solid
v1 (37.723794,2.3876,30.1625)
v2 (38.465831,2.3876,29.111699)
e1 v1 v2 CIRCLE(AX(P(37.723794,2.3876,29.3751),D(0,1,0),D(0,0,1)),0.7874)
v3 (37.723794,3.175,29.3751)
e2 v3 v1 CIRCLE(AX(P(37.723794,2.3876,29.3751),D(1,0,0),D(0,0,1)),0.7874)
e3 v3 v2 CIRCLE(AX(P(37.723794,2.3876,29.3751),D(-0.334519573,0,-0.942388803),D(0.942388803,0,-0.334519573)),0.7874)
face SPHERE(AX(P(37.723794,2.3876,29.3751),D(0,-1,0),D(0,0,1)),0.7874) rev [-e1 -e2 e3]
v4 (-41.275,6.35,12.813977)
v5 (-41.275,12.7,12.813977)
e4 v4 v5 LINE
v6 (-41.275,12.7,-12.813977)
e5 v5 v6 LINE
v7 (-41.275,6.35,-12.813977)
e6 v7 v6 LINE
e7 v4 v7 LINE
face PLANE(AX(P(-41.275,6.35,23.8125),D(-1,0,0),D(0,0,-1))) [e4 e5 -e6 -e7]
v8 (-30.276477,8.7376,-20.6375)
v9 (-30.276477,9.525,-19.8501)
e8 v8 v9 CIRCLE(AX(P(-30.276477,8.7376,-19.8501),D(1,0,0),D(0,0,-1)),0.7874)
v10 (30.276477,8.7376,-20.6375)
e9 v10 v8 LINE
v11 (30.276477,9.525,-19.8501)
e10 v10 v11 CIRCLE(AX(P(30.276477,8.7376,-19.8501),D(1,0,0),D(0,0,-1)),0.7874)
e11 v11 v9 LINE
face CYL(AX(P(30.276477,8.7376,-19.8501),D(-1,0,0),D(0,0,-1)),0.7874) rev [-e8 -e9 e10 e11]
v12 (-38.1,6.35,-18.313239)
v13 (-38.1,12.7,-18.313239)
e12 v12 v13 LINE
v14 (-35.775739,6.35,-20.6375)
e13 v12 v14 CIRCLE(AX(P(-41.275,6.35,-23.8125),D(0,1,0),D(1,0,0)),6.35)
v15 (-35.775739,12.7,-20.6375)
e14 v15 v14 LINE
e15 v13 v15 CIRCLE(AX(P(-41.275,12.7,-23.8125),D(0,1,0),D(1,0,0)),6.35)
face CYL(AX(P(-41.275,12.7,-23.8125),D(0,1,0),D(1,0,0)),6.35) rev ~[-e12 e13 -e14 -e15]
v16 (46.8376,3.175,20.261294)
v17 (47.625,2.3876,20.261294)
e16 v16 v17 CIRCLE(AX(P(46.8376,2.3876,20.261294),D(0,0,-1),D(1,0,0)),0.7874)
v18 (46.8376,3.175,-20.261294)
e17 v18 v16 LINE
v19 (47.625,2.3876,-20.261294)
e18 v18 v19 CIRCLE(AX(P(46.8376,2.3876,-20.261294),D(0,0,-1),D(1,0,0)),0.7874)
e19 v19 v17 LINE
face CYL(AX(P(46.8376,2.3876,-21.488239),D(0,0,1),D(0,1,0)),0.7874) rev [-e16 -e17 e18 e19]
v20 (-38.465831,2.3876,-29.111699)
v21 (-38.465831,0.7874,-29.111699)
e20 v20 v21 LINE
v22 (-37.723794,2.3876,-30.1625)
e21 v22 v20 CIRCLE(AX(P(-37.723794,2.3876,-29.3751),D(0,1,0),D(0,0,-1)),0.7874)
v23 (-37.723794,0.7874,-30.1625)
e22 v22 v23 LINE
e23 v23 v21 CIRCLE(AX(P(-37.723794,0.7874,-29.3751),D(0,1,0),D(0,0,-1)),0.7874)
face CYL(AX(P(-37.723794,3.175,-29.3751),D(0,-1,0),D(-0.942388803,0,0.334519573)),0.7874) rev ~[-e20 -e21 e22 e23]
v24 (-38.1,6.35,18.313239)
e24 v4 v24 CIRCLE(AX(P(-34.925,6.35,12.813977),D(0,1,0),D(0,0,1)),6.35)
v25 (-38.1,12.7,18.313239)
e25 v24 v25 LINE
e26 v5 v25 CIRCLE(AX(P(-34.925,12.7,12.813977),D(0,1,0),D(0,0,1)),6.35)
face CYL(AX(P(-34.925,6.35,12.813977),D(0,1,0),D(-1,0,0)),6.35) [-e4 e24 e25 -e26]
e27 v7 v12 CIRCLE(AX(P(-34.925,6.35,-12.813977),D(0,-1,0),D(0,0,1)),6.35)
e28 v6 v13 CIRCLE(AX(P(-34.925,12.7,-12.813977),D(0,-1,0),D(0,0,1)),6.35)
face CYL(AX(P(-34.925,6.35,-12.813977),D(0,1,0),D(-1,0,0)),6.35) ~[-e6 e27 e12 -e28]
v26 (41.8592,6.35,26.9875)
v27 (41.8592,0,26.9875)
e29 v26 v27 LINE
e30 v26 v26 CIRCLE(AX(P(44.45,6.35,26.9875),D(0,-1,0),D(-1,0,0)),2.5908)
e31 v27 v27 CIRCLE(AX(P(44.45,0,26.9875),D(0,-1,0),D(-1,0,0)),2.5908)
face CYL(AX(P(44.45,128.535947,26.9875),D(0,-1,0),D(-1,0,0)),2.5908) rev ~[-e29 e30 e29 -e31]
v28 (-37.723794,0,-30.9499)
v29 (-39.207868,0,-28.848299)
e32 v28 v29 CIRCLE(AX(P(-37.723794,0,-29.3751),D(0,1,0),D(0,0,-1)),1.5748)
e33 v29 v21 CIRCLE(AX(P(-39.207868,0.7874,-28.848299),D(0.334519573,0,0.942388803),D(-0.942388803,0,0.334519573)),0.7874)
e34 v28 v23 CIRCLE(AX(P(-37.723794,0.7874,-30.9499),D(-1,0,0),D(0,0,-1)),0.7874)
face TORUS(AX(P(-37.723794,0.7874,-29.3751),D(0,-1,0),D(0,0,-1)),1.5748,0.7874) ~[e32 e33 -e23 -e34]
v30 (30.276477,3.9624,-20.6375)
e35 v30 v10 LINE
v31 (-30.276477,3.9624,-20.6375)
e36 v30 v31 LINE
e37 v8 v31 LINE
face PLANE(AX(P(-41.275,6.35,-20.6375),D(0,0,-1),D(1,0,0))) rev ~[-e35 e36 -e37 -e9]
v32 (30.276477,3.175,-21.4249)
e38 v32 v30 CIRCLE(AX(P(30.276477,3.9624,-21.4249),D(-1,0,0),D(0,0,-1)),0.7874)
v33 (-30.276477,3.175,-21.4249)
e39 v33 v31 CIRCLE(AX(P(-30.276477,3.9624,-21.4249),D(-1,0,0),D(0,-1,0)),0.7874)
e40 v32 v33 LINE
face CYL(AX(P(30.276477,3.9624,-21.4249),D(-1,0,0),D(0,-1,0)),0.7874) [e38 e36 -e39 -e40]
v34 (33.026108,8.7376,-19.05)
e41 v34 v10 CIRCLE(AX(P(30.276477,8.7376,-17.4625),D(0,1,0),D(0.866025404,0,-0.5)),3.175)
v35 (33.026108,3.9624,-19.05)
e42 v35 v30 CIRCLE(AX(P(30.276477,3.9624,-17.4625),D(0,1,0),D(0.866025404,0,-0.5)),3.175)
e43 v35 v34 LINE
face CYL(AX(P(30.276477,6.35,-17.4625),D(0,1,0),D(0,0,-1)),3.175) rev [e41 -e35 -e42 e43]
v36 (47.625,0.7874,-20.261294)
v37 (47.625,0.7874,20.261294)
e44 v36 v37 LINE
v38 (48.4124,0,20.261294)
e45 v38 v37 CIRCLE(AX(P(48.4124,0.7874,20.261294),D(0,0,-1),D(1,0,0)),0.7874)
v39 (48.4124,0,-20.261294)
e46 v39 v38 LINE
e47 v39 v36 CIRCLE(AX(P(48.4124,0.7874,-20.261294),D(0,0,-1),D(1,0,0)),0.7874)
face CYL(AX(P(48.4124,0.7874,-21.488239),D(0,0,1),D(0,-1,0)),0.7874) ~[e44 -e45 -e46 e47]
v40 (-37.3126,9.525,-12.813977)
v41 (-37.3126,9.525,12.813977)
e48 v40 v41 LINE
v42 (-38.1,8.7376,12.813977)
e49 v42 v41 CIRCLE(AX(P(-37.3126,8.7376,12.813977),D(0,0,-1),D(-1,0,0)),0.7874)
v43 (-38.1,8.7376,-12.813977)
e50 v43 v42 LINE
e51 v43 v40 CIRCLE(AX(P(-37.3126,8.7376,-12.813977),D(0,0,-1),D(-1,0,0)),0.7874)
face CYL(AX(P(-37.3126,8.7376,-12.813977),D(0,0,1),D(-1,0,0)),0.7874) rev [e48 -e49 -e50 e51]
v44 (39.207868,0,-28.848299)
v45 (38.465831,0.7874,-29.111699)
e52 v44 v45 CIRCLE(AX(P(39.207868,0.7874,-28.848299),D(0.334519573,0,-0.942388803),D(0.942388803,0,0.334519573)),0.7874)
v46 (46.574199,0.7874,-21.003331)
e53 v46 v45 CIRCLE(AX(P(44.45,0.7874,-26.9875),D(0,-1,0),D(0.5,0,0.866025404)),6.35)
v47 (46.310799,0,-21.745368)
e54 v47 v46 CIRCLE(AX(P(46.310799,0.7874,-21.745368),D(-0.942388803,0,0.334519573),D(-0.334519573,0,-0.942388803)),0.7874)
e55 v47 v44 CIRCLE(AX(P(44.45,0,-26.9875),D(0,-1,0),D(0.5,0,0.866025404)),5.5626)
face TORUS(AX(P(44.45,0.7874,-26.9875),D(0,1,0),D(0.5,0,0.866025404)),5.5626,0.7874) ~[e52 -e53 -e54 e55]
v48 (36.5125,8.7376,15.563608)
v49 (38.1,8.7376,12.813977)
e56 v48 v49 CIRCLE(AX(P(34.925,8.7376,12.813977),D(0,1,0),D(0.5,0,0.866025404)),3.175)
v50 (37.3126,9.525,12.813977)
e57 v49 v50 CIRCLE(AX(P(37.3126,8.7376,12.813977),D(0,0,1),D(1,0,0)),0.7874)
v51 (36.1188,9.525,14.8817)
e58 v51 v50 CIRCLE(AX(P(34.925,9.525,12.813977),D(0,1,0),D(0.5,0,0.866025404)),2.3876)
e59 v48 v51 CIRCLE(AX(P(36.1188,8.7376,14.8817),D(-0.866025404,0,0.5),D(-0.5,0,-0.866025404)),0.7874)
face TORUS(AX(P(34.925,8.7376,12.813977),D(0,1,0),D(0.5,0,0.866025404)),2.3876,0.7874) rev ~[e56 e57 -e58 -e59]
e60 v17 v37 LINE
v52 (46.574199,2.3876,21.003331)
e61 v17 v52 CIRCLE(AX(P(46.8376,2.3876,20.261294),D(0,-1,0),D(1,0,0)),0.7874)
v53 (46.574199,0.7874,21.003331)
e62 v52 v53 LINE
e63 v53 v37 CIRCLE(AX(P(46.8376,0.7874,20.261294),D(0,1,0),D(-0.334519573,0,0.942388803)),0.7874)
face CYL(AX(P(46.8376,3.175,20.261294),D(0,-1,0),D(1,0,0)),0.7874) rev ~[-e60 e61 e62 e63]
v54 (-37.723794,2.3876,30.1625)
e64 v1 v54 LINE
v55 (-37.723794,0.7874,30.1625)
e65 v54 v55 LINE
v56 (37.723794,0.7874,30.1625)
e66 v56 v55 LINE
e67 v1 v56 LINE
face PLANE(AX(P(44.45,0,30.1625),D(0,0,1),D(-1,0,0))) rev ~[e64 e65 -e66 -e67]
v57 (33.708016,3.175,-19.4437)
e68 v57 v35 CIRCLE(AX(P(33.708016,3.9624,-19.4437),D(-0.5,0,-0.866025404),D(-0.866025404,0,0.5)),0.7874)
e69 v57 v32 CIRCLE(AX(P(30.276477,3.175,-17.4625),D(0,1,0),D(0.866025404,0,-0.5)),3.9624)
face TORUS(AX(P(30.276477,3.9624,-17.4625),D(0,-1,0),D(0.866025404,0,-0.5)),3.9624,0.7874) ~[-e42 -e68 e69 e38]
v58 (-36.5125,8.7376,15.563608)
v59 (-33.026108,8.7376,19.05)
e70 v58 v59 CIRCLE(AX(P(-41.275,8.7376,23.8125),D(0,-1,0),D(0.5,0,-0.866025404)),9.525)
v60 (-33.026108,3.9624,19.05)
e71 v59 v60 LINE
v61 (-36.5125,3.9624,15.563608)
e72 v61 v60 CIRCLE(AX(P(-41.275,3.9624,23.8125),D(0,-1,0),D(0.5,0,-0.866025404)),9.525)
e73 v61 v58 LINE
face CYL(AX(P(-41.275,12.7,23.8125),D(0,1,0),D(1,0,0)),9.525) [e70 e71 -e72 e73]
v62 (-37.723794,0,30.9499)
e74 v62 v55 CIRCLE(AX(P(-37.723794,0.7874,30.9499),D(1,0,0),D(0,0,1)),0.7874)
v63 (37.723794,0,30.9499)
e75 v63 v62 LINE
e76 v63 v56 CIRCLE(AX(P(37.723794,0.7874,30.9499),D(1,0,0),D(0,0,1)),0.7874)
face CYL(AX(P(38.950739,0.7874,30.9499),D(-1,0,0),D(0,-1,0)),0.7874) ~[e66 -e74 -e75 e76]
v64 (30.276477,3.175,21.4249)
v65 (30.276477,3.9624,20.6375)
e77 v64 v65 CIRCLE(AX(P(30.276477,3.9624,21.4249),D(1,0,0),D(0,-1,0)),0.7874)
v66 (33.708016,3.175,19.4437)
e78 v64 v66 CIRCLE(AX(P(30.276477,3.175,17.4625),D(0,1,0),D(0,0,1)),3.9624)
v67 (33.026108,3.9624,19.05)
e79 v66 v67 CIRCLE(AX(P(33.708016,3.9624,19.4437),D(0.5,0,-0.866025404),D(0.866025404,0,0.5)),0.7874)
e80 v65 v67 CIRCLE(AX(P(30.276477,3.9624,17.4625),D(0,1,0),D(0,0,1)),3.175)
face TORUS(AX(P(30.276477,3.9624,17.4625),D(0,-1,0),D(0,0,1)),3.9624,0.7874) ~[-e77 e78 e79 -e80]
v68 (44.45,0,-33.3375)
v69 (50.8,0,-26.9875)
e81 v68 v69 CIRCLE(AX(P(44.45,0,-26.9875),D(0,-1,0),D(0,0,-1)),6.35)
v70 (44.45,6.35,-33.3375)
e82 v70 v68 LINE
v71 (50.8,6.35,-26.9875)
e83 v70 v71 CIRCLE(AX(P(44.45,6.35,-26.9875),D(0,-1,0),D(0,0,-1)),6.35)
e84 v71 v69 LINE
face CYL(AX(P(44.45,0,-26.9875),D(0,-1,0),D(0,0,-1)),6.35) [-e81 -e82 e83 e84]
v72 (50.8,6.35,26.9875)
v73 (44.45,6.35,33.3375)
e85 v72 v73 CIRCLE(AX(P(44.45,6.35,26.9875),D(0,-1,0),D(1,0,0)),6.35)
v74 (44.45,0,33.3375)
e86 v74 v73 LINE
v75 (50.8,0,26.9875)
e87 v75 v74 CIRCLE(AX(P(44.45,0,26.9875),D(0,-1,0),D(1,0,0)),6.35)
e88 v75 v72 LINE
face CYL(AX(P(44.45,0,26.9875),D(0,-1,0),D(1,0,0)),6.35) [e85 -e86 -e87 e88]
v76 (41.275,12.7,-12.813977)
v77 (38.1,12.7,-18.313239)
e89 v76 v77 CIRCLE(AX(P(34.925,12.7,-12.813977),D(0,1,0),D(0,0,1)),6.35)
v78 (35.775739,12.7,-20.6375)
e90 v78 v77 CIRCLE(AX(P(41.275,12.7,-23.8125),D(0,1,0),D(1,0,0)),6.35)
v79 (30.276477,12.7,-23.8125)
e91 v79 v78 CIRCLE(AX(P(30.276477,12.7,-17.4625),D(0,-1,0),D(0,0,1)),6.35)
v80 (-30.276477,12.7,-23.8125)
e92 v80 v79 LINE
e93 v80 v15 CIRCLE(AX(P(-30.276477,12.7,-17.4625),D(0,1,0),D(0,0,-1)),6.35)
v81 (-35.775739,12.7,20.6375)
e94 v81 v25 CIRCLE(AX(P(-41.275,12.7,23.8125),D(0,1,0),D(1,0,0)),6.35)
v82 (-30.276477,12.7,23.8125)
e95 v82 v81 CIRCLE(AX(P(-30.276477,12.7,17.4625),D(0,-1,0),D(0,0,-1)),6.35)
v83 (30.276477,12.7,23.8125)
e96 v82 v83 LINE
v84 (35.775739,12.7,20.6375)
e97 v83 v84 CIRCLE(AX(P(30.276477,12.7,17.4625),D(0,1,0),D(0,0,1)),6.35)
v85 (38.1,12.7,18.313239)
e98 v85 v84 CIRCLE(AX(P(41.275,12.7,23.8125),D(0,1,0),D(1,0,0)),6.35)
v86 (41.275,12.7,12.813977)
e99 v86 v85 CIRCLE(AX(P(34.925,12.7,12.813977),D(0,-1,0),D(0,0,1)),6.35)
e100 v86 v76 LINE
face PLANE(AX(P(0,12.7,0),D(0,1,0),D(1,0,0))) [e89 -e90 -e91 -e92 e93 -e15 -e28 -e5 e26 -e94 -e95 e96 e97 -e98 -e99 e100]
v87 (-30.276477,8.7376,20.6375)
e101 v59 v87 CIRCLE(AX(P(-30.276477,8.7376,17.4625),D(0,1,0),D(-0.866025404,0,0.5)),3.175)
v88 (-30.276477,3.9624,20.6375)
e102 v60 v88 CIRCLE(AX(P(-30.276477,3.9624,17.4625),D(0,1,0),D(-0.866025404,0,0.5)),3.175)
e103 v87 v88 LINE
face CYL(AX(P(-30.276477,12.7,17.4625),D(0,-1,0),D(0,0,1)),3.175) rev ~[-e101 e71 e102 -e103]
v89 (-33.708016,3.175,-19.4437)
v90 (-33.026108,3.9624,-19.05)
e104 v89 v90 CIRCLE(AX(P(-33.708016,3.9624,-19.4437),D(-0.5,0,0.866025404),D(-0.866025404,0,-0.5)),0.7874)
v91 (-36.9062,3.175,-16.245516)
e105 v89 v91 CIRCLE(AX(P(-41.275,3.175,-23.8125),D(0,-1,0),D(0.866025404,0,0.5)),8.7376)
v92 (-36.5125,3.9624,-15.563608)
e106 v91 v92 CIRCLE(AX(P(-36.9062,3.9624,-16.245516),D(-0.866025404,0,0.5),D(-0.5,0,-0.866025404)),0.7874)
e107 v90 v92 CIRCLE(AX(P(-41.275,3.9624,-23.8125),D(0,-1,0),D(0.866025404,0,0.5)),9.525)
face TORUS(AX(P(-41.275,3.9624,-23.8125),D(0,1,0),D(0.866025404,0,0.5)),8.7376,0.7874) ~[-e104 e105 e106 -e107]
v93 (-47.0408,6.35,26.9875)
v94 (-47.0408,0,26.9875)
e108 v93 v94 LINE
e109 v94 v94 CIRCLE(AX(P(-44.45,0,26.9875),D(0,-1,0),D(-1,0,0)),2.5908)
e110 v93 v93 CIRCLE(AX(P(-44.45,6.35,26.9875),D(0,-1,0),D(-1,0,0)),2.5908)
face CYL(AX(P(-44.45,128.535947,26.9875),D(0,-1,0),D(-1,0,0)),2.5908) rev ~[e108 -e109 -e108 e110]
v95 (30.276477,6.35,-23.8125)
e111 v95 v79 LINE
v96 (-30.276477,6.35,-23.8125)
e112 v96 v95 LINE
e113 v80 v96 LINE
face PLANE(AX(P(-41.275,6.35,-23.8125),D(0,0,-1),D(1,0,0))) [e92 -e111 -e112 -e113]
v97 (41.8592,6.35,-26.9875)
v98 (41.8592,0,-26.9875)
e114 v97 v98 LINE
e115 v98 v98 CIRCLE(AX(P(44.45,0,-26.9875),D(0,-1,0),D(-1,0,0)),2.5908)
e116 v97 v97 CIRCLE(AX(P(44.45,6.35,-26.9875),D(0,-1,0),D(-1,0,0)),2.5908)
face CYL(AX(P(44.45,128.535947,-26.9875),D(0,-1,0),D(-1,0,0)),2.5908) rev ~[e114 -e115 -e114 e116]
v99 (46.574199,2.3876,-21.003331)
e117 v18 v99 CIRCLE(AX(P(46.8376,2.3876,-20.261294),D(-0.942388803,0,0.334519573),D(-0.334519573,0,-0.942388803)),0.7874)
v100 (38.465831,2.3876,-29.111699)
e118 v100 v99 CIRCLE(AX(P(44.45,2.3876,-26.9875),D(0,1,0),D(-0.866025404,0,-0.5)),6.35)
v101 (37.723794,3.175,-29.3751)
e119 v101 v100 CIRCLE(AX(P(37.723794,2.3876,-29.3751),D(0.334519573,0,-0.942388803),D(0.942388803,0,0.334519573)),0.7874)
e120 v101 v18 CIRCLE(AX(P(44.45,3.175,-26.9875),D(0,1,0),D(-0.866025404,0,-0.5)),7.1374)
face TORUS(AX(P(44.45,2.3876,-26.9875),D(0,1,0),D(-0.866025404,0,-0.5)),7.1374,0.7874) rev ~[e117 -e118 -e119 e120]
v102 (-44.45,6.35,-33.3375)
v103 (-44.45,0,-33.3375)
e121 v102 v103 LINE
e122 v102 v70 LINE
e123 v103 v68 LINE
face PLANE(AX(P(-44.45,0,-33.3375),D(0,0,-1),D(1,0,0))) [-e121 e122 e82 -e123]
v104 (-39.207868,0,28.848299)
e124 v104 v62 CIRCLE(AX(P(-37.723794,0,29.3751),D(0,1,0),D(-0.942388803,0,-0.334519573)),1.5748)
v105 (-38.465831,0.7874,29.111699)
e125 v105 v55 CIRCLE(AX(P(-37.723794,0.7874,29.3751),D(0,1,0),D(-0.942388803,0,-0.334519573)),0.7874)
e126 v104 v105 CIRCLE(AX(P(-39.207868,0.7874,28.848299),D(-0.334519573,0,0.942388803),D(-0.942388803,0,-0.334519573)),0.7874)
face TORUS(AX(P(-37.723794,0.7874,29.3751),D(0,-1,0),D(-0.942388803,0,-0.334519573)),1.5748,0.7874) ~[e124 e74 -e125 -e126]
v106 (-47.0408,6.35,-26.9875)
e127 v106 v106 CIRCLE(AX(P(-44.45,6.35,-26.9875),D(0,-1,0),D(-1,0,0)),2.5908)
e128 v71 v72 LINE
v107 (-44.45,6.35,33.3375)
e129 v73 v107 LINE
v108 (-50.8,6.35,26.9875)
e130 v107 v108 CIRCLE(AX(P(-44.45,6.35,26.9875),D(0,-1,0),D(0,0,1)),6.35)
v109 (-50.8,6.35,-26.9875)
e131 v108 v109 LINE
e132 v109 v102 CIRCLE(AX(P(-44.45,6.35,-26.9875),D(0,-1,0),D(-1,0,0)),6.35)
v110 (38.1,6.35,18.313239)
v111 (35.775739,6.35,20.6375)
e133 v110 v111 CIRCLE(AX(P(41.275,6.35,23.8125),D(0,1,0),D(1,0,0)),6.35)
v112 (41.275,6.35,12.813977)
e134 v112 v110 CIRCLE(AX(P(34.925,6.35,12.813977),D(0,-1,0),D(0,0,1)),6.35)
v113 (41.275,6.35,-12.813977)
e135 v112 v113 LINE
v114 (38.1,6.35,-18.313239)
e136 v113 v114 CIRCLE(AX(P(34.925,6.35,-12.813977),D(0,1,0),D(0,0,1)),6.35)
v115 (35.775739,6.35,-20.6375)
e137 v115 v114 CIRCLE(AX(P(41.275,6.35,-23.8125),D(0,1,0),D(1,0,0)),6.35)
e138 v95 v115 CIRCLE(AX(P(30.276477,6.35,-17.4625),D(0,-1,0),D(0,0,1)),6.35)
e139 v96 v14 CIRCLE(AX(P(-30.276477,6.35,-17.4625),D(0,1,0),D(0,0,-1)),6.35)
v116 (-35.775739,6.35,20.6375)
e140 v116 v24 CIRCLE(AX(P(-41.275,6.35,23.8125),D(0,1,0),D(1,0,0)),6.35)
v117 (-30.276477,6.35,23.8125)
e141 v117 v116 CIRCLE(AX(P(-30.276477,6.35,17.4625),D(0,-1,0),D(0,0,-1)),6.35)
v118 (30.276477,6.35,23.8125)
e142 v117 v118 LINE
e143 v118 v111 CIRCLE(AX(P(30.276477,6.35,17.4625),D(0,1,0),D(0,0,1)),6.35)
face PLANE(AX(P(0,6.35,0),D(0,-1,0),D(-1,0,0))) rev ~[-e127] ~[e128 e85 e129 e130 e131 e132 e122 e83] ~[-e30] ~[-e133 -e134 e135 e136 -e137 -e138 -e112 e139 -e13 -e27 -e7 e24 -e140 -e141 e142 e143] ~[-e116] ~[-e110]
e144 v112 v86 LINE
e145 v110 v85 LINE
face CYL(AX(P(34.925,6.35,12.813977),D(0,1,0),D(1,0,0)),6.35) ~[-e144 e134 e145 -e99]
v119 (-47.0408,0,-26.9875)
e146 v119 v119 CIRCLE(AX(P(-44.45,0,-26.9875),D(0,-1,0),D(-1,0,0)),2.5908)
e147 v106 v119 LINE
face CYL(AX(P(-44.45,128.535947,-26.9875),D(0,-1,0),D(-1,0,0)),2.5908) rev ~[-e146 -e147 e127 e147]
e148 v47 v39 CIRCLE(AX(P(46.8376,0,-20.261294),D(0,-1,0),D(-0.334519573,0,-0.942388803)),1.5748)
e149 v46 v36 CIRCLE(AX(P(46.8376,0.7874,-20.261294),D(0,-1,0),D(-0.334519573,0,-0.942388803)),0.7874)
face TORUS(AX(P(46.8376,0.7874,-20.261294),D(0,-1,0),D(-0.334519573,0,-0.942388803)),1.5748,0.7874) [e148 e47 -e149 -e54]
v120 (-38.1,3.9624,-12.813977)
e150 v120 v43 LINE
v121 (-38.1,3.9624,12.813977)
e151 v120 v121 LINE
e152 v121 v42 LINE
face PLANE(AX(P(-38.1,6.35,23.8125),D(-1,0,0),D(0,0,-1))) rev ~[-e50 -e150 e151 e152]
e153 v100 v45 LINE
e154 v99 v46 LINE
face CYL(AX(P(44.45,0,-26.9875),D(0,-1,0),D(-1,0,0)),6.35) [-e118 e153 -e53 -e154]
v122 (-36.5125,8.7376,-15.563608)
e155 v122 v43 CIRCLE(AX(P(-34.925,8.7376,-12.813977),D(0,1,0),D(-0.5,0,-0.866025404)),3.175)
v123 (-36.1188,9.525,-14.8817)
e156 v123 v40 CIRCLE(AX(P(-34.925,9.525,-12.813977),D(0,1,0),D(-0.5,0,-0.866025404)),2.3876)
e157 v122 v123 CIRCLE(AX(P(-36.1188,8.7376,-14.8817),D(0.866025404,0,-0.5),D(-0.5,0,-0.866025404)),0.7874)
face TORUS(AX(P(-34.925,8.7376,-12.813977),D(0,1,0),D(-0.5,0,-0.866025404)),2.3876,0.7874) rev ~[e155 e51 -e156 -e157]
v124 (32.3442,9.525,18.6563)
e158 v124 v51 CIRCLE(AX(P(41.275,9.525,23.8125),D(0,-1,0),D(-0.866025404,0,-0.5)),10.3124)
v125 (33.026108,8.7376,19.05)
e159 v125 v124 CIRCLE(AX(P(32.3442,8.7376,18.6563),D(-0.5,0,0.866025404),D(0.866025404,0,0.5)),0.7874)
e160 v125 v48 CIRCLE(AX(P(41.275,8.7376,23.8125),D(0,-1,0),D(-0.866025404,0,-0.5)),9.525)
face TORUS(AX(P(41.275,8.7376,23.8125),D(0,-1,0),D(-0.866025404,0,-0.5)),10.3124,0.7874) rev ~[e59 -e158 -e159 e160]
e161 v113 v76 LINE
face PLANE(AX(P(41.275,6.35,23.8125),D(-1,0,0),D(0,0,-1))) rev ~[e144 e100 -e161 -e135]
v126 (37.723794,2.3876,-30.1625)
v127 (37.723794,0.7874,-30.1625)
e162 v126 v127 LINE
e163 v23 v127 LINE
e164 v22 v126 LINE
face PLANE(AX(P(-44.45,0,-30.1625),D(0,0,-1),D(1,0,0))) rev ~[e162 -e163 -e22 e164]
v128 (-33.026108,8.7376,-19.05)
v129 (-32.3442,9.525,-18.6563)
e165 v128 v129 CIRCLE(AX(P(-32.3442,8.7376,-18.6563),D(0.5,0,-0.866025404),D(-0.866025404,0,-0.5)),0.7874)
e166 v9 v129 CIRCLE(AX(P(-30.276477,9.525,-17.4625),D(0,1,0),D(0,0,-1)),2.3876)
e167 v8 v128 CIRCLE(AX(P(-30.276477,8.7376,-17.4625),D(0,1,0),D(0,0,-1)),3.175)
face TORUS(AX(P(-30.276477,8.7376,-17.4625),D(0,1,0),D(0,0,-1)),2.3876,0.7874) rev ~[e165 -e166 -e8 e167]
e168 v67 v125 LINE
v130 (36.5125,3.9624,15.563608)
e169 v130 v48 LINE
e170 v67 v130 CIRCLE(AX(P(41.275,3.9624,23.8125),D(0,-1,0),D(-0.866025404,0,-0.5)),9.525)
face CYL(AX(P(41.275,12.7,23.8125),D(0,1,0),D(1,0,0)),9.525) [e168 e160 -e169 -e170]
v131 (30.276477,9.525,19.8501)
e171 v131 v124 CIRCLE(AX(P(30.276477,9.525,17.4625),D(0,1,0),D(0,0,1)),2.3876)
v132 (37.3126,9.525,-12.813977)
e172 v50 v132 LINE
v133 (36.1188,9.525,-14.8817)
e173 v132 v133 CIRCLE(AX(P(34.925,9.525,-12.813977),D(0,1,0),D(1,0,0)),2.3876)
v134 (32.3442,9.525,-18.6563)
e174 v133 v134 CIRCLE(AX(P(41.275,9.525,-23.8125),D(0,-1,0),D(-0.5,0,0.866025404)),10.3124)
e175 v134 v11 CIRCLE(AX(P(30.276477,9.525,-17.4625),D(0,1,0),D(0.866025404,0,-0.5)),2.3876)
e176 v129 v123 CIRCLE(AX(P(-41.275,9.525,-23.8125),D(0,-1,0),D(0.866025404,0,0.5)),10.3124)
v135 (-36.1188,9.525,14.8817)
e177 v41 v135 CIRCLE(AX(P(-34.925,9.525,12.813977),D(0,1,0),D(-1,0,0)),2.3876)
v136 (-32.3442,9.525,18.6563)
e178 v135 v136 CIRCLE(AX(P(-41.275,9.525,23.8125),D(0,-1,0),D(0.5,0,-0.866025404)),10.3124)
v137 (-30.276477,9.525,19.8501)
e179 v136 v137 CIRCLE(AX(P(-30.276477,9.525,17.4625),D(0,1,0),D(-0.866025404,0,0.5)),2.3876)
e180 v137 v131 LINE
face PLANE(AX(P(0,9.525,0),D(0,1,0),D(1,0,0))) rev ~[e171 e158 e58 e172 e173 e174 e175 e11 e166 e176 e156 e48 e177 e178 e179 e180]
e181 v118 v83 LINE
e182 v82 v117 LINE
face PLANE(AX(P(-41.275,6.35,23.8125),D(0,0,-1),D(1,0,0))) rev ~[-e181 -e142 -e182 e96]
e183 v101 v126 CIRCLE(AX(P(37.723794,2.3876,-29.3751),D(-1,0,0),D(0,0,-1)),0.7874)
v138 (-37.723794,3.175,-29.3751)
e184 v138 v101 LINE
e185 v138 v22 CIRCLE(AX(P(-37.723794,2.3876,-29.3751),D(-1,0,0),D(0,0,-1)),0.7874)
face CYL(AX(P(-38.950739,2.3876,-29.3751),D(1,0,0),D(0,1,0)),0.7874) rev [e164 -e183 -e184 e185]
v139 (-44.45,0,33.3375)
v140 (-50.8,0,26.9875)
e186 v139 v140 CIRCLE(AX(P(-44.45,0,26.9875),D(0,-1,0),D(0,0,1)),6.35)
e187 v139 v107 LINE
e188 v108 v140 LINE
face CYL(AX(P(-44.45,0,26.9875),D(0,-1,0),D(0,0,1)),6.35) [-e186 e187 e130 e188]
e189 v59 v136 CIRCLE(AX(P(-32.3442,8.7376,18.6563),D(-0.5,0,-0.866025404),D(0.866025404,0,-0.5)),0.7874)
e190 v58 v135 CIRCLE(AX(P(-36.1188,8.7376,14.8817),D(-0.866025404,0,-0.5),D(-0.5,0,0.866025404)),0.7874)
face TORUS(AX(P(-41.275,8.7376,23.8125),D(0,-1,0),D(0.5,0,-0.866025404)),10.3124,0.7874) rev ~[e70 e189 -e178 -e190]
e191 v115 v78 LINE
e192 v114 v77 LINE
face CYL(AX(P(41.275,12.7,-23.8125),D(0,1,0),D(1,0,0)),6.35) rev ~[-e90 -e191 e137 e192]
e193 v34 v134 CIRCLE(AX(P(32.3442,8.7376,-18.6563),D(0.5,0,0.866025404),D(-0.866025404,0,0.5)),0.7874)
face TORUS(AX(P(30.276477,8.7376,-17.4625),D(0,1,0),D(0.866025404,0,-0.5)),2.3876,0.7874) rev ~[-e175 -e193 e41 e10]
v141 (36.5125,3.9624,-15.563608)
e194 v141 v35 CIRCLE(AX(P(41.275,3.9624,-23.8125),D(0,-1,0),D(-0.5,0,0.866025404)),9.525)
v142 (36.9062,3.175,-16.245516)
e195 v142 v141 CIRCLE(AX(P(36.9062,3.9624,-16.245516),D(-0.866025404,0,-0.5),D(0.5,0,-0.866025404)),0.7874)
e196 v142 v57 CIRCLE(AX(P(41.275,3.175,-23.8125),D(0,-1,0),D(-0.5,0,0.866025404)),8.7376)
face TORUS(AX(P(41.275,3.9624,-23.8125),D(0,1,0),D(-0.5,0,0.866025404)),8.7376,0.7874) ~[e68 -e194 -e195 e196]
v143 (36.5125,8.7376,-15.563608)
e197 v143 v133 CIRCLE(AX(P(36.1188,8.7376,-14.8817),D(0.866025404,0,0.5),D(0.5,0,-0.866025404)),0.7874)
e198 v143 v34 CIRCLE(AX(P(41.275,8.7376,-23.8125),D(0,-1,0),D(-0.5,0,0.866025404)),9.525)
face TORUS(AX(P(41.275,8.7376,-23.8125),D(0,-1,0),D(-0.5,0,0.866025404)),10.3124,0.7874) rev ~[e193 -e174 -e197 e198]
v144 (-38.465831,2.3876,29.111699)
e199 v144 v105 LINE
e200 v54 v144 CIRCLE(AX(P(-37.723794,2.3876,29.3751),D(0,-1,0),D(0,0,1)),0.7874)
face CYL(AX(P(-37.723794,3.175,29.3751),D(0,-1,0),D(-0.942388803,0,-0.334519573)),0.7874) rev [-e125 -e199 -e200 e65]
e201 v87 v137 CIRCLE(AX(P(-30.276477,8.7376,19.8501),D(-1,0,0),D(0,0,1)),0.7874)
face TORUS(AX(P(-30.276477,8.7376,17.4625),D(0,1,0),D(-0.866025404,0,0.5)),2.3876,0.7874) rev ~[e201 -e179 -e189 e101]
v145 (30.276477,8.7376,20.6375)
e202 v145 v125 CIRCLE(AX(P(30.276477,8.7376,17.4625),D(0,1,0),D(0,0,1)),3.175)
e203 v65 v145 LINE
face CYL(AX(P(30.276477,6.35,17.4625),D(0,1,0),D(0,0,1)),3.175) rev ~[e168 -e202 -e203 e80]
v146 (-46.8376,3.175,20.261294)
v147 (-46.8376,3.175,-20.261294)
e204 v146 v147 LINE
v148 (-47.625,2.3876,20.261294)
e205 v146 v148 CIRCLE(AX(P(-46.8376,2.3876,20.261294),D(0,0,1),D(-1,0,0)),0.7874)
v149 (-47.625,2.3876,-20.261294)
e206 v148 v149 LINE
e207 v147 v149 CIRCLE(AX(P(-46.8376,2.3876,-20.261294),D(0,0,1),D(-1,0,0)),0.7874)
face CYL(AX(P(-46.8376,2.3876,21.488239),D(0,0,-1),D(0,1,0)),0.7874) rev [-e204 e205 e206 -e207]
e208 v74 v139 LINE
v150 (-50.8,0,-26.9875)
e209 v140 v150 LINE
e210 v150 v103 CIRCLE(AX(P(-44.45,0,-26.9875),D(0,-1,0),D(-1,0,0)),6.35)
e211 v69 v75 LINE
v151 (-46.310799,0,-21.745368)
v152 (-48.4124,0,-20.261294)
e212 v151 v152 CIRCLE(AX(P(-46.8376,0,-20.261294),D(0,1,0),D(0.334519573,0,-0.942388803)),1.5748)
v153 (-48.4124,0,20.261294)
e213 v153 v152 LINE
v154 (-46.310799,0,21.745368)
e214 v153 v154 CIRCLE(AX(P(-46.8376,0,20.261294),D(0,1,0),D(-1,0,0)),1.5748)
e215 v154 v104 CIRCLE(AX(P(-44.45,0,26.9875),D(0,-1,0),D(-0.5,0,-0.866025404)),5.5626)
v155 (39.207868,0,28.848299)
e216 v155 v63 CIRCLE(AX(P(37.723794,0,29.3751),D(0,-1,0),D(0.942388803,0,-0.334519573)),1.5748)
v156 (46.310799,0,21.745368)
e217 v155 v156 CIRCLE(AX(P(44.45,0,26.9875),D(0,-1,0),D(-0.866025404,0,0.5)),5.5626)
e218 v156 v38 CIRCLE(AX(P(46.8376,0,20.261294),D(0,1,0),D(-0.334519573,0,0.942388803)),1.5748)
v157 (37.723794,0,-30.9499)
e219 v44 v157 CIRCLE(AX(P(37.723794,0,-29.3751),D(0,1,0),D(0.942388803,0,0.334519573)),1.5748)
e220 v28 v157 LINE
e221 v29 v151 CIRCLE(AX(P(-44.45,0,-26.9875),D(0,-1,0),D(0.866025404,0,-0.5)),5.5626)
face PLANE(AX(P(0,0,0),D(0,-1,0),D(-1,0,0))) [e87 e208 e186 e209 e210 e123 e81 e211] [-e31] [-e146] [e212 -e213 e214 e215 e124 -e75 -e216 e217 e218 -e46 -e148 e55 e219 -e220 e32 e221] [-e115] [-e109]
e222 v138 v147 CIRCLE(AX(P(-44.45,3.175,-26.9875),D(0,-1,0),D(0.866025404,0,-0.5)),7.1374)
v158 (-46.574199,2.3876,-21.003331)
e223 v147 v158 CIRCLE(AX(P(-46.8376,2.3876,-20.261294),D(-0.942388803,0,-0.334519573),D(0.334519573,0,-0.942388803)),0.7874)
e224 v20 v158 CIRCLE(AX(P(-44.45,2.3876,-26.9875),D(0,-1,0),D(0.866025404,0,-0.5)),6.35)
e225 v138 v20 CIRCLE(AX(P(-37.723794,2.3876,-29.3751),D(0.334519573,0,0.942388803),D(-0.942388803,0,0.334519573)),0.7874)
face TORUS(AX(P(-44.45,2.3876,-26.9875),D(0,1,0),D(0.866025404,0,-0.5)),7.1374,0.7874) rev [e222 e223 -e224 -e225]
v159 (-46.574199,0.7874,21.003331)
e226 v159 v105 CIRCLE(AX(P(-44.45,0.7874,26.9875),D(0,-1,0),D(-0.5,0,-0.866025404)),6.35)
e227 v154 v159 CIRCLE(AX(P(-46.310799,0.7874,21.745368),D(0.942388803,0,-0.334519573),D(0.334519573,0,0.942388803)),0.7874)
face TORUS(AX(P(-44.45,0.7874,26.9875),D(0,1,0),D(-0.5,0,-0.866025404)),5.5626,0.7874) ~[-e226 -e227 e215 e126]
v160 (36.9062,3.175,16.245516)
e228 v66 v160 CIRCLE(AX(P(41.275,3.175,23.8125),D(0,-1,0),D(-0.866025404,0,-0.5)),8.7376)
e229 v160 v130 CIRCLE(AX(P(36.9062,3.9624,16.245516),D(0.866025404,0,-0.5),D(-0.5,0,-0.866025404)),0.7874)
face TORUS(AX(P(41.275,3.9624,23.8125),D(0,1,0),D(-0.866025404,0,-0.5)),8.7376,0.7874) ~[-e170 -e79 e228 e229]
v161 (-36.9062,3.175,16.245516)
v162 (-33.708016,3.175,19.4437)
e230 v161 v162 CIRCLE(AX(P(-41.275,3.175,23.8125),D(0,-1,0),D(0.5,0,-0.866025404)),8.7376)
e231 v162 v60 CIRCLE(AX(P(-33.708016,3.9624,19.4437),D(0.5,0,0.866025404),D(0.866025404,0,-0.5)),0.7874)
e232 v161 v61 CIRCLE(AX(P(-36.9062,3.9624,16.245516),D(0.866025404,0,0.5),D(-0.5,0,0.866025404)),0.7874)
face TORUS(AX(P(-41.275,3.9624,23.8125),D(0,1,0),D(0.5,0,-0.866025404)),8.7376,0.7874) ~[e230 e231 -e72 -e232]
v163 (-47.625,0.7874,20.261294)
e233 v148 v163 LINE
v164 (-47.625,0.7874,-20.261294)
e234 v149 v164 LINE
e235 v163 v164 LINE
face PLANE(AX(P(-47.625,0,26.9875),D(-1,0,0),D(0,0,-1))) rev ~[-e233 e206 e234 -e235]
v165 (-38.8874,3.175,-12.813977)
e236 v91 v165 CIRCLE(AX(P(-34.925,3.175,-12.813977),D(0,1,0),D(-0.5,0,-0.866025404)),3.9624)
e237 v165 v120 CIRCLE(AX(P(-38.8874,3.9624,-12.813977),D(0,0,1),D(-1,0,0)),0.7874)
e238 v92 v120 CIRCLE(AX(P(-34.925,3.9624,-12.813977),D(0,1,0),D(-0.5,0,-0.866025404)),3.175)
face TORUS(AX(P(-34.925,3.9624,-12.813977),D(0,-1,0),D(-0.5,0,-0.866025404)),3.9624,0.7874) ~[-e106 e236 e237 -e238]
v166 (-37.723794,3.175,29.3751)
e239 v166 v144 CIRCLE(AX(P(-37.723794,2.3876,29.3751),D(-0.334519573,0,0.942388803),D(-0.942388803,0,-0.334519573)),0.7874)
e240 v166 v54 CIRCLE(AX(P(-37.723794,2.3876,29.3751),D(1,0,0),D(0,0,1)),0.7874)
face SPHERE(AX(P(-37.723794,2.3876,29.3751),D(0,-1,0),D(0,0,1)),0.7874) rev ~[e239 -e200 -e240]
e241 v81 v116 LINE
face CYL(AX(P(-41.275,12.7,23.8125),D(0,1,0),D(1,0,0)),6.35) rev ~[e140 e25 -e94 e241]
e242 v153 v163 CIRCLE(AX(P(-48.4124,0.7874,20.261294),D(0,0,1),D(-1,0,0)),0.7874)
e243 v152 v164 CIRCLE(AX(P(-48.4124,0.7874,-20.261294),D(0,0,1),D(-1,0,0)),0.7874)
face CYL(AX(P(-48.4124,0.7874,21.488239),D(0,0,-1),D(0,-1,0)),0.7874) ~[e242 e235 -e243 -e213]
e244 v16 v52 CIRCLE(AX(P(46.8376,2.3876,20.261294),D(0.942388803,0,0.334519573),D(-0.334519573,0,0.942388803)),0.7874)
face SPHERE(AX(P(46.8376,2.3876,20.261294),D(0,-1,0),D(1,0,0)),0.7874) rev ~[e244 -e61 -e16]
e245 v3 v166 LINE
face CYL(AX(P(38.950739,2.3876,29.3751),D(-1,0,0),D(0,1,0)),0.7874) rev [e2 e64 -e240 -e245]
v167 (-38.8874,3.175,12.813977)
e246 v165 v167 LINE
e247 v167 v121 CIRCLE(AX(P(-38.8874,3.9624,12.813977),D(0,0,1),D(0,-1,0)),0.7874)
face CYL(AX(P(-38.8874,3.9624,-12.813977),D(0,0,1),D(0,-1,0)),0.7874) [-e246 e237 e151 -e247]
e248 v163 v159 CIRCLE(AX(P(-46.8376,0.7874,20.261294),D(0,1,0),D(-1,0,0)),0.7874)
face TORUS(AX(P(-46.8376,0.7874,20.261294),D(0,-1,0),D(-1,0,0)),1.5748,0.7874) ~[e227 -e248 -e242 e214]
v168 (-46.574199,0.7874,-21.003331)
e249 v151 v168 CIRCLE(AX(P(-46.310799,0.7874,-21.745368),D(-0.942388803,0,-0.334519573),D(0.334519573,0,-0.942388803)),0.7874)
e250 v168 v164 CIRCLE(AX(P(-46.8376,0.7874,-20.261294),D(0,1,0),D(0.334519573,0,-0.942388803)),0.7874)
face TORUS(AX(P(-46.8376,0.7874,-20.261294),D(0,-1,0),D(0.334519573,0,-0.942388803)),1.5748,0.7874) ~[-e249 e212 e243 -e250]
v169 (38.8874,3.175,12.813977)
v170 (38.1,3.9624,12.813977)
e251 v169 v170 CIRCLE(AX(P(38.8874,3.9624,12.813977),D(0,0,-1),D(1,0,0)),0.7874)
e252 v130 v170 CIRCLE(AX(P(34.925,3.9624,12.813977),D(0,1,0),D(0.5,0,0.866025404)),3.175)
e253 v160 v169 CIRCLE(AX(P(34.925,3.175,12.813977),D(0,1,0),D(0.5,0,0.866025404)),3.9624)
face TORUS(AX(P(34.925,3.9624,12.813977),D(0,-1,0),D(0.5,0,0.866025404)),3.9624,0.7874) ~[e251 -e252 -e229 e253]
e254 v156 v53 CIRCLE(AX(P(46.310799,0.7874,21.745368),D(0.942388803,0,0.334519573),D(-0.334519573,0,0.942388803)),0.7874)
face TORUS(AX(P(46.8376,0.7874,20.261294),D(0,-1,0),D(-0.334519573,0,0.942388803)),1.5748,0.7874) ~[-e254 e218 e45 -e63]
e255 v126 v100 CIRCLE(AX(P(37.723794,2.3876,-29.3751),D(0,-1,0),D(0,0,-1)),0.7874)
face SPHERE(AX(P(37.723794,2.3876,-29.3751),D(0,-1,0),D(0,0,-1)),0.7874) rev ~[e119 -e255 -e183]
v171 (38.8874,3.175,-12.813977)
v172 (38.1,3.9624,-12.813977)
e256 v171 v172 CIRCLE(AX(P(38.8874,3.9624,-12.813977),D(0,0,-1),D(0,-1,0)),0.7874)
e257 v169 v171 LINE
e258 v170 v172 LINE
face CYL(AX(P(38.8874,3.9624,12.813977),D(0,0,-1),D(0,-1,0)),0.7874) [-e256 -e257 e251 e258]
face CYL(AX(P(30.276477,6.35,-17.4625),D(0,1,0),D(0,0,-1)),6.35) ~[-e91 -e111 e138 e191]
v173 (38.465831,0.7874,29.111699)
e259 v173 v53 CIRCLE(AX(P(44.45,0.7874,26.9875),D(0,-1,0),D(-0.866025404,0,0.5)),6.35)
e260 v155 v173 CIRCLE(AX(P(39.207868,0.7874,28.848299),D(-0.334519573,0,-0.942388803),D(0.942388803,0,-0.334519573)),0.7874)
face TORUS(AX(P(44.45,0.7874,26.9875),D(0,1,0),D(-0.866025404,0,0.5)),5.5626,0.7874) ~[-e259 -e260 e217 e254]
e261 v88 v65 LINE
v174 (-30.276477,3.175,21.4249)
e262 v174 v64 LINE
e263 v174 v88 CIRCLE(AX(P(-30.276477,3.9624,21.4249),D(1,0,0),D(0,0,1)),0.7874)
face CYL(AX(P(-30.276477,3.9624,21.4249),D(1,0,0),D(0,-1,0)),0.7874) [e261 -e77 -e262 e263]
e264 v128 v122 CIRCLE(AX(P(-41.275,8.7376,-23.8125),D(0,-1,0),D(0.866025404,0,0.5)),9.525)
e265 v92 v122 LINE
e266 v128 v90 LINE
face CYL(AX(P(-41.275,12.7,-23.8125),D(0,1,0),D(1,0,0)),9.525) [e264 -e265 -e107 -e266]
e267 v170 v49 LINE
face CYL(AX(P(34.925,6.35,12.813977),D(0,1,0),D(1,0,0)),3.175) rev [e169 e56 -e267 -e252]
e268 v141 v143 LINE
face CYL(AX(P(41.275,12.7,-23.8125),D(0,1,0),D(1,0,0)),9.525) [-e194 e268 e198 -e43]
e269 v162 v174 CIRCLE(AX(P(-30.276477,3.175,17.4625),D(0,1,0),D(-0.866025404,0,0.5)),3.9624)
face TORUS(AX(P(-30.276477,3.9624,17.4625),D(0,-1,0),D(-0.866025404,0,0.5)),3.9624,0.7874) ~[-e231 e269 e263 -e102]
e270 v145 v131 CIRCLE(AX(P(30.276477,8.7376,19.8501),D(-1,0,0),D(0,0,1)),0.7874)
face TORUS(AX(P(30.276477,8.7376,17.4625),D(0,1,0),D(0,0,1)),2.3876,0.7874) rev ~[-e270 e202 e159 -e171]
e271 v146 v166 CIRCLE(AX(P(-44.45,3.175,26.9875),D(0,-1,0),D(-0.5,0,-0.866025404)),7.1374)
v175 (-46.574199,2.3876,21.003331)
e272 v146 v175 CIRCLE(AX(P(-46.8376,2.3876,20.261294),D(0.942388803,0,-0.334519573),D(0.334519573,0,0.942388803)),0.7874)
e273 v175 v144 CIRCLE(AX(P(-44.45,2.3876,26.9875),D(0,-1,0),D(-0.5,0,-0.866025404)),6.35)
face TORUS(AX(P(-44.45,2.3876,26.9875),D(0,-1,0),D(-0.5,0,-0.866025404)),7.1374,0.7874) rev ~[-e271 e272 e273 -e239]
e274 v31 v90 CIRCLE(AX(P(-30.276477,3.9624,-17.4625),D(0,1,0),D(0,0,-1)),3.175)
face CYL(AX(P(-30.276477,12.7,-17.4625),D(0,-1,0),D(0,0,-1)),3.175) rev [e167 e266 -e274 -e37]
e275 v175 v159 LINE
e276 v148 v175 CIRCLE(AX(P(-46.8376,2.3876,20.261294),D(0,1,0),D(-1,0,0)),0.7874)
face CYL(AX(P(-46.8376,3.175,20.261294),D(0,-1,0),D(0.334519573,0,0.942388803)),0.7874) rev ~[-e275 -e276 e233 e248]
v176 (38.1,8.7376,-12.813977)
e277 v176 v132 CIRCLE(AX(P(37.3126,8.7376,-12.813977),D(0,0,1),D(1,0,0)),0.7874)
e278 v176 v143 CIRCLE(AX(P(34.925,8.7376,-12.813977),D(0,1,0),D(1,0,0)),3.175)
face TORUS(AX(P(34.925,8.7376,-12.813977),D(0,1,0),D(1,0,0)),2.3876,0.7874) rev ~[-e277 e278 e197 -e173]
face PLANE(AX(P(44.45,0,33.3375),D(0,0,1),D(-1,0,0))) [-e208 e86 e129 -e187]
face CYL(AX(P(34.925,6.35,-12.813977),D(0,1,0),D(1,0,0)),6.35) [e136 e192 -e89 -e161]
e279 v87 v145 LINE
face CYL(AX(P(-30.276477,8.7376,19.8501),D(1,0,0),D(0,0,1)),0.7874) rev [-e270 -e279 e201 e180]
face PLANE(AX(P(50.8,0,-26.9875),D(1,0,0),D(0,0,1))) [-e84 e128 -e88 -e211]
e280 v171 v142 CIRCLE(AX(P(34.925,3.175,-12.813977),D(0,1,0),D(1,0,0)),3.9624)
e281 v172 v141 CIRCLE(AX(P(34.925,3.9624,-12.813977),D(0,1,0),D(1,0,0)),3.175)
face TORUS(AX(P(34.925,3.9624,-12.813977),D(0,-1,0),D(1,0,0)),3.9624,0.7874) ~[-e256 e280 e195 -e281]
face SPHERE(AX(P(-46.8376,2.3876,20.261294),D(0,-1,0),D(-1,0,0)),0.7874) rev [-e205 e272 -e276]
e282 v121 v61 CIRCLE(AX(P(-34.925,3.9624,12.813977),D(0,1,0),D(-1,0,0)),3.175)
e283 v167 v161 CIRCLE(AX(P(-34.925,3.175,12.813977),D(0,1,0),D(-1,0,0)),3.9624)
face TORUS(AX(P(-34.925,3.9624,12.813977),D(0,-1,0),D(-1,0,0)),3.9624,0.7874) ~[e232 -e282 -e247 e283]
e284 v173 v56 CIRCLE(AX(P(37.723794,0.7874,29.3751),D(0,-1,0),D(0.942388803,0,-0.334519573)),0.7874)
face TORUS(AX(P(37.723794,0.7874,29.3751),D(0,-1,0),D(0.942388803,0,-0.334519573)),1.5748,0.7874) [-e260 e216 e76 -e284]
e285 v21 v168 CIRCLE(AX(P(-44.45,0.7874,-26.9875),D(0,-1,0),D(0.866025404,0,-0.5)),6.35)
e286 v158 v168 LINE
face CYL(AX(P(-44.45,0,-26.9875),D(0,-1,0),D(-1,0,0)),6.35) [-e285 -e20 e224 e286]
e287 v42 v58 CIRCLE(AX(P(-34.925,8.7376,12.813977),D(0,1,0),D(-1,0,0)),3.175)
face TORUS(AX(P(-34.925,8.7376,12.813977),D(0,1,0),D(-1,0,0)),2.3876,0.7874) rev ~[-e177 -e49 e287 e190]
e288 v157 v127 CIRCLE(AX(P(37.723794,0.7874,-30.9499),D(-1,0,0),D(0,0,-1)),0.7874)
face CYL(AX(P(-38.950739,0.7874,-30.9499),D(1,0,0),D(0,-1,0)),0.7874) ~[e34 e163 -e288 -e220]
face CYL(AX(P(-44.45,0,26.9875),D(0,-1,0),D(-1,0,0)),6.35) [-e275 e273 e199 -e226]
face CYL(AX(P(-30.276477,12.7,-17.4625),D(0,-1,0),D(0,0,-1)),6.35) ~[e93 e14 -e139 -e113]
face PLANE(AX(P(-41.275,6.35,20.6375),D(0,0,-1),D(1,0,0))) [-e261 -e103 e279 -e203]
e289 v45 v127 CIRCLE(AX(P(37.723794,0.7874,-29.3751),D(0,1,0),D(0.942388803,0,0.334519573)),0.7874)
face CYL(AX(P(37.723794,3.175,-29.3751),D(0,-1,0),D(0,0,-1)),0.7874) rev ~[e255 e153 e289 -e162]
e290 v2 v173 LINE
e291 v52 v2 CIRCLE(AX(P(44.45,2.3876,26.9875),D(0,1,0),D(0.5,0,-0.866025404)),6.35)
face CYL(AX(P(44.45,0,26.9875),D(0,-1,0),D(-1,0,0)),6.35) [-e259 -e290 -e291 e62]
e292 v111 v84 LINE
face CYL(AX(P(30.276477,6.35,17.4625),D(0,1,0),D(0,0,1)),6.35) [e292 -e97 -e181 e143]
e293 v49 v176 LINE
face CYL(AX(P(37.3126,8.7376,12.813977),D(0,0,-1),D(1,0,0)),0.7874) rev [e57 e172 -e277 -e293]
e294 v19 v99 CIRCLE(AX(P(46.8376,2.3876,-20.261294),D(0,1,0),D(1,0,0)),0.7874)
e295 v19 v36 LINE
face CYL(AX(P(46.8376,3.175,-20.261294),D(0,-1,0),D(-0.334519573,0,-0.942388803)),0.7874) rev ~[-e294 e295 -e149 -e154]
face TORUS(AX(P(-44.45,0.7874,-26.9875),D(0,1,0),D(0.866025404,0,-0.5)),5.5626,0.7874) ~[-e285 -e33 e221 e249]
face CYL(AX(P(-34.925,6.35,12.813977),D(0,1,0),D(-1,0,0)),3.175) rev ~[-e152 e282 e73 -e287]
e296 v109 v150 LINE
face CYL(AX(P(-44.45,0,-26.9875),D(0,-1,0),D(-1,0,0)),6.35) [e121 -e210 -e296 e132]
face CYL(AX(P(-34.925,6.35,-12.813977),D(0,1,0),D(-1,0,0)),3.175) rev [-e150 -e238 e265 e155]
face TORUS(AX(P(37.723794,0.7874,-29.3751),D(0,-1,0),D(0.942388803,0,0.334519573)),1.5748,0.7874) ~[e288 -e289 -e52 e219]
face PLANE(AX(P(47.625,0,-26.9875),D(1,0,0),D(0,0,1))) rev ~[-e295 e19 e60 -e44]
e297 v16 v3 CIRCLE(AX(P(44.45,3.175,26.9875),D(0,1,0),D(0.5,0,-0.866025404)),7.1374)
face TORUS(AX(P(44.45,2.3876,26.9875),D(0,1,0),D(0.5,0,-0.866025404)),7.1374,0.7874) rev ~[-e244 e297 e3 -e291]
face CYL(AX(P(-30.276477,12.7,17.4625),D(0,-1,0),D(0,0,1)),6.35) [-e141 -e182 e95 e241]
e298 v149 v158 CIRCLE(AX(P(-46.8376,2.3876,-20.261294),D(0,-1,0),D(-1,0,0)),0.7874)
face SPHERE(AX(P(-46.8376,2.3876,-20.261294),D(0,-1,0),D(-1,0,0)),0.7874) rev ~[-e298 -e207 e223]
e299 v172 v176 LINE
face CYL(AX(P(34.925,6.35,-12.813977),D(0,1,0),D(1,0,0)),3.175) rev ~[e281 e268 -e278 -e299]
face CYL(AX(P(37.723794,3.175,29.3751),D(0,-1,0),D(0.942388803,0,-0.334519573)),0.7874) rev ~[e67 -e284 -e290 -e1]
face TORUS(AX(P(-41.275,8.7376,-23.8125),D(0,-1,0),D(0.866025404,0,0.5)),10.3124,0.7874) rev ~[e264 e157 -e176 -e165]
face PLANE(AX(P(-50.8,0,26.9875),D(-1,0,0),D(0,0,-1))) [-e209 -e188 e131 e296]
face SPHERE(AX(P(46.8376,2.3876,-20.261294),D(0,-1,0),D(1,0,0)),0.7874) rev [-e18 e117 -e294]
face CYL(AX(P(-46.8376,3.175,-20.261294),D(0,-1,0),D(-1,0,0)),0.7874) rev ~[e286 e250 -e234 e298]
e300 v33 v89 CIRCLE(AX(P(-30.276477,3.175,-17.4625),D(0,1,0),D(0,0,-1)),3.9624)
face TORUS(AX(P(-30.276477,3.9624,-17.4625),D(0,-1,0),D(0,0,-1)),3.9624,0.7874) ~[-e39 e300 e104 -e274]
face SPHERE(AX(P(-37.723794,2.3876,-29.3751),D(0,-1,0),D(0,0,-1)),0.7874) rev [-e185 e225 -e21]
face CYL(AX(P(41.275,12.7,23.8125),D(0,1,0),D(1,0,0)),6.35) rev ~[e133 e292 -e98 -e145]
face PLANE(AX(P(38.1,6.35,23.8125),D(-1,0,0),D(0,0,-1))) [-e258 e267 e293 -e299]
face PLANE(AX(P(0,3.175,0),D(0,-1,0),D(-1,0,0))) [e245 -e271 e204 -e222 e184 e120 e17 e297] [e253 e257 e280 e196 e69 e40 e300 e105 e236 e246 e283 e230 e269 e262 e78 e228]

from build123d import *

# Parameters (mm, degrees)
BASE_EXTRUDE_DEPTH        = 6.35
SKETCH2_W                 = 82.55
SKETCH2_H                 = 47.625
TOP_BOSS_DEPTH            = 6.35
SKETCH3_R                 = 6.35
BASE_CUT_DEPTH            = 6.35
FILLET_2_R                = 6.35
SHELL_T                   = -3.175
CORNER_START              = 3.175
SKETCH4_R                 = 6.35
CORNER_EXTRUDE_DEPTH      = 3.175
SHELL_FILLET_R            = 0.7874
F_6_0_204_DIAMETER_HOLE_D = 5.1816


with BuildPart() as part:
    # Sketch1 → Base Extrude (new body)
    with BuildSketch(Plane(origin=(0, 0, 0), x_dir=(1, 0, 0), z_dir=(0, 1, 0))):
        with BuildLine():
            Line((44.45, -33.3375), (-44.45, -33.3375))
            ThreePointArc((-44.45, -33.3375), (-48.940128061, -31.477628061), (-50.8, -26.9875))
            Line((-50.8, -26.9875), (-50.8, 26.9875))
            ThreePointArc((-50.8, 26.9875), (-48.940128061, 31.477628061), (-44.45, 33.3375))
            Line((-44.45, 33.3375), (44.45, 33.3375))
            ThreePointArc((44.45, 33.3375), (48.940128061, 31.477628061), (50.8, 26.9875))
            Line((50.8, 26.9875), (50.8, -26.9875))
            ThreePointArc((50.8, -26.9875), (48.940128061, -31.477628061), (44.45, -33.3375))
        make_face()
    extrude(amount=BASE_EXTRUDE_DEPTH)

    # Sketch2 → Top Boss (add)
    with BuildSketch(Plane(origin=(0, 6.35, 0), x_dir=(1, 0, 0), z_dir=(0, 1, 0))):
        Rectangle(SKETCH2_W, SKETCH2_H)
    extrude(amount=TOP_BOSS_DEPTH)

    # Sketch3 → Base Cut (cut)
    with BuildSketch(Plane(origin=(0, 12.7, 0), x_dir=(1, 0, 0), z_dir=(0, 1, 0))):
        with Locations((41.275, 23.8125)):
            Circle(SKETCH3_R)
        with Locations((-41.275, 23.8125)):
            Circle(SKETCH3_R)
        with Locations((41.275, -23.8125)):
            Circle(SKETCH3_R)
        with Locations((-41.275, -23.8125)):
            Circle(SKETCH3_R)
    extrude(amount=-BASE_CUT_DEPTH, mode=Mode.SUBTRACT)

    # Fillet 2
    fillet_2_edges = [part.edges().sort_by_distance(p)[0] for p in [
        (-34.925, 9.525, -23.8125),
        (-41.275, 9.525, -17.4625),
        (41.275, 9.525, 17.4625),
        (34.925, 9.525, 23.8125),
        (-41.275, 9.525, 17.4625),
        (-34.925, 9.525, 23.8125),
        (41.275, 9.525, -17.4625),
        (34.925, 9.525, -23.8125),
    ]]
    fillet(fillet_2_edges, radius=FILLET_2_R)

    # Shell
    shell_openings = [part.faces().sort_by_distance(p)[0] for p in [
        (0, 0, 0),
    ]]
    offset(amount=SHELL_T, openings=shell_openings, kind=Kind.INTERSECTION)

    # Sketch4 → Corner Extrude (add)
    with BuildSketch(Plane(origin=(0, 3.175, 0), x_dir=(-1, 0, 0), z_dir=(0, -1, 0)).offset(CORNER_START)):
        with Locations((44.45, -26.9875)):
            Circle(SKETCH4_R)
        with Locations((-44.45, -26.9875)):
            Circle(SKETCH4_R)
        with Locations((-44.45, 26.9875)):
            Circle(SKETCH4_R)
        with Locations((44.45, 26.9875)):
            Circle(SKETCH4_R)
    extrude(amount=-CORNER_EXTRUDE_DEPTH)

    # Shell Fillet
    shell_fillet_edges = [part.edges().sort_by_distance(p)[0] for p in [
        (-37.674630657, 3.175, -14.401477372),
        (-31.863977372, 3.175, -20.212130657),
        (31.863977372, 3.175, -20.212130657),
        (37.674630657, 3.175, -14.401477372),
        (37.674630657, 3.175, 14.401477372),
        (31.863977372, 3.175, 20.212130657),
        (-31.863977372, 3.175, 20.212130657),
        (-37.674630657, 3.175, 14.401477372),
        (38.1, 3.175, 0),
        (0, 3.175, -20.6375),
        (-38.1, 3.175, 0),
        (0, 3.175, 20.6375),
        (-37.674630657, 9.525, -14.401477372),
        (-38.1, 9.525, 0),
        (-37.674630657, 9.525, 14.401477372),
        (-31.863977372, 9.525, 20.212130657),
        (0, 9.525, 20.6375),
        (31.863977372, 9.525, 20.212130657),
        (37.674630657, 9.525, 14.401477372),
        (38.1, 9.525, 0),
        (37.674630657, 9.525, -14.401477372),
        (31.863977372, 9.525, -20.212130657),
        (0, 9.525, -20.6375),
        (-31.863977372, 9.525, -20.212130657),
        (34.539807909, 9.525, -17.077307909),
        (34.539807909, 3.175, -17.077307909),
        (-34.539807909, 3.175, 17.077307909),
        (-34.539807909, 9.525, 17.077307909),
        (34.539807909, 3.175, 17.077307909),
        (34.539807909, 9.525, 17.077307909),
        (-34.539807909, 3.175, -17.077307909),
        (-34.539807909, 9.525, -17.077307909),
        (47.625, 3.175, 0),
        (39.959871939, 3.175, 22.497371939),
        (47.625, 0, 0),
        (47.625, 1.5875, 21.488238686),
        (38.950738686, 1.5875, 30.1625),
        (39.959871939, 0, 22.497371939),
        (0, 3.175, 30.1625),
        (-39.959871939, 3.175, 22.497371939),
        (0, 0, 30.1625),
        (-38.950738686, 1.5875, 30.1625),
        (-39.959871939, 0, 22.497371939),
        (-47.625, 1.5875, 21.488238686),
        (-47.625, 3.175, 0),
        (-39.959871939, 3.175, -22.497371939),
        (-47.625, 0, 0),
        (-47.625, 1.5875, -21.488238686),
        (-39.959871939, 0, -22.497371939),
        (-38.950738686, 1.5875, -30.1625),
        (0, 3.175, -30.1625),
        (39.959871939, 3.175, -22.497371939),
        (0, 0, -30.1625),
        (38.950738686, 1.5875, -30.1625),
        (47.625, 1.5875, -21.488238686),
        (39.959871939, 0, -22.497371939),
    ]]
    fillet(shell_fillet_edges, radius=SHELL_FILLET_R)

    # #6 (0.204) Diameter Hole (through all)
    with Locations(Plane(origin=(0, 6.35, 0), x_dir=(1, 0, 0), z_dir=(0, 1, 0))):
        with Locations((-44.45, 26.9875), (44.45, 26.9875), (44.45, -26.9875), (-44.45, -26.9875)):
            Hole(F_6_0_204_DIAMETER_HOLE_D / 2)


solid = part.part
